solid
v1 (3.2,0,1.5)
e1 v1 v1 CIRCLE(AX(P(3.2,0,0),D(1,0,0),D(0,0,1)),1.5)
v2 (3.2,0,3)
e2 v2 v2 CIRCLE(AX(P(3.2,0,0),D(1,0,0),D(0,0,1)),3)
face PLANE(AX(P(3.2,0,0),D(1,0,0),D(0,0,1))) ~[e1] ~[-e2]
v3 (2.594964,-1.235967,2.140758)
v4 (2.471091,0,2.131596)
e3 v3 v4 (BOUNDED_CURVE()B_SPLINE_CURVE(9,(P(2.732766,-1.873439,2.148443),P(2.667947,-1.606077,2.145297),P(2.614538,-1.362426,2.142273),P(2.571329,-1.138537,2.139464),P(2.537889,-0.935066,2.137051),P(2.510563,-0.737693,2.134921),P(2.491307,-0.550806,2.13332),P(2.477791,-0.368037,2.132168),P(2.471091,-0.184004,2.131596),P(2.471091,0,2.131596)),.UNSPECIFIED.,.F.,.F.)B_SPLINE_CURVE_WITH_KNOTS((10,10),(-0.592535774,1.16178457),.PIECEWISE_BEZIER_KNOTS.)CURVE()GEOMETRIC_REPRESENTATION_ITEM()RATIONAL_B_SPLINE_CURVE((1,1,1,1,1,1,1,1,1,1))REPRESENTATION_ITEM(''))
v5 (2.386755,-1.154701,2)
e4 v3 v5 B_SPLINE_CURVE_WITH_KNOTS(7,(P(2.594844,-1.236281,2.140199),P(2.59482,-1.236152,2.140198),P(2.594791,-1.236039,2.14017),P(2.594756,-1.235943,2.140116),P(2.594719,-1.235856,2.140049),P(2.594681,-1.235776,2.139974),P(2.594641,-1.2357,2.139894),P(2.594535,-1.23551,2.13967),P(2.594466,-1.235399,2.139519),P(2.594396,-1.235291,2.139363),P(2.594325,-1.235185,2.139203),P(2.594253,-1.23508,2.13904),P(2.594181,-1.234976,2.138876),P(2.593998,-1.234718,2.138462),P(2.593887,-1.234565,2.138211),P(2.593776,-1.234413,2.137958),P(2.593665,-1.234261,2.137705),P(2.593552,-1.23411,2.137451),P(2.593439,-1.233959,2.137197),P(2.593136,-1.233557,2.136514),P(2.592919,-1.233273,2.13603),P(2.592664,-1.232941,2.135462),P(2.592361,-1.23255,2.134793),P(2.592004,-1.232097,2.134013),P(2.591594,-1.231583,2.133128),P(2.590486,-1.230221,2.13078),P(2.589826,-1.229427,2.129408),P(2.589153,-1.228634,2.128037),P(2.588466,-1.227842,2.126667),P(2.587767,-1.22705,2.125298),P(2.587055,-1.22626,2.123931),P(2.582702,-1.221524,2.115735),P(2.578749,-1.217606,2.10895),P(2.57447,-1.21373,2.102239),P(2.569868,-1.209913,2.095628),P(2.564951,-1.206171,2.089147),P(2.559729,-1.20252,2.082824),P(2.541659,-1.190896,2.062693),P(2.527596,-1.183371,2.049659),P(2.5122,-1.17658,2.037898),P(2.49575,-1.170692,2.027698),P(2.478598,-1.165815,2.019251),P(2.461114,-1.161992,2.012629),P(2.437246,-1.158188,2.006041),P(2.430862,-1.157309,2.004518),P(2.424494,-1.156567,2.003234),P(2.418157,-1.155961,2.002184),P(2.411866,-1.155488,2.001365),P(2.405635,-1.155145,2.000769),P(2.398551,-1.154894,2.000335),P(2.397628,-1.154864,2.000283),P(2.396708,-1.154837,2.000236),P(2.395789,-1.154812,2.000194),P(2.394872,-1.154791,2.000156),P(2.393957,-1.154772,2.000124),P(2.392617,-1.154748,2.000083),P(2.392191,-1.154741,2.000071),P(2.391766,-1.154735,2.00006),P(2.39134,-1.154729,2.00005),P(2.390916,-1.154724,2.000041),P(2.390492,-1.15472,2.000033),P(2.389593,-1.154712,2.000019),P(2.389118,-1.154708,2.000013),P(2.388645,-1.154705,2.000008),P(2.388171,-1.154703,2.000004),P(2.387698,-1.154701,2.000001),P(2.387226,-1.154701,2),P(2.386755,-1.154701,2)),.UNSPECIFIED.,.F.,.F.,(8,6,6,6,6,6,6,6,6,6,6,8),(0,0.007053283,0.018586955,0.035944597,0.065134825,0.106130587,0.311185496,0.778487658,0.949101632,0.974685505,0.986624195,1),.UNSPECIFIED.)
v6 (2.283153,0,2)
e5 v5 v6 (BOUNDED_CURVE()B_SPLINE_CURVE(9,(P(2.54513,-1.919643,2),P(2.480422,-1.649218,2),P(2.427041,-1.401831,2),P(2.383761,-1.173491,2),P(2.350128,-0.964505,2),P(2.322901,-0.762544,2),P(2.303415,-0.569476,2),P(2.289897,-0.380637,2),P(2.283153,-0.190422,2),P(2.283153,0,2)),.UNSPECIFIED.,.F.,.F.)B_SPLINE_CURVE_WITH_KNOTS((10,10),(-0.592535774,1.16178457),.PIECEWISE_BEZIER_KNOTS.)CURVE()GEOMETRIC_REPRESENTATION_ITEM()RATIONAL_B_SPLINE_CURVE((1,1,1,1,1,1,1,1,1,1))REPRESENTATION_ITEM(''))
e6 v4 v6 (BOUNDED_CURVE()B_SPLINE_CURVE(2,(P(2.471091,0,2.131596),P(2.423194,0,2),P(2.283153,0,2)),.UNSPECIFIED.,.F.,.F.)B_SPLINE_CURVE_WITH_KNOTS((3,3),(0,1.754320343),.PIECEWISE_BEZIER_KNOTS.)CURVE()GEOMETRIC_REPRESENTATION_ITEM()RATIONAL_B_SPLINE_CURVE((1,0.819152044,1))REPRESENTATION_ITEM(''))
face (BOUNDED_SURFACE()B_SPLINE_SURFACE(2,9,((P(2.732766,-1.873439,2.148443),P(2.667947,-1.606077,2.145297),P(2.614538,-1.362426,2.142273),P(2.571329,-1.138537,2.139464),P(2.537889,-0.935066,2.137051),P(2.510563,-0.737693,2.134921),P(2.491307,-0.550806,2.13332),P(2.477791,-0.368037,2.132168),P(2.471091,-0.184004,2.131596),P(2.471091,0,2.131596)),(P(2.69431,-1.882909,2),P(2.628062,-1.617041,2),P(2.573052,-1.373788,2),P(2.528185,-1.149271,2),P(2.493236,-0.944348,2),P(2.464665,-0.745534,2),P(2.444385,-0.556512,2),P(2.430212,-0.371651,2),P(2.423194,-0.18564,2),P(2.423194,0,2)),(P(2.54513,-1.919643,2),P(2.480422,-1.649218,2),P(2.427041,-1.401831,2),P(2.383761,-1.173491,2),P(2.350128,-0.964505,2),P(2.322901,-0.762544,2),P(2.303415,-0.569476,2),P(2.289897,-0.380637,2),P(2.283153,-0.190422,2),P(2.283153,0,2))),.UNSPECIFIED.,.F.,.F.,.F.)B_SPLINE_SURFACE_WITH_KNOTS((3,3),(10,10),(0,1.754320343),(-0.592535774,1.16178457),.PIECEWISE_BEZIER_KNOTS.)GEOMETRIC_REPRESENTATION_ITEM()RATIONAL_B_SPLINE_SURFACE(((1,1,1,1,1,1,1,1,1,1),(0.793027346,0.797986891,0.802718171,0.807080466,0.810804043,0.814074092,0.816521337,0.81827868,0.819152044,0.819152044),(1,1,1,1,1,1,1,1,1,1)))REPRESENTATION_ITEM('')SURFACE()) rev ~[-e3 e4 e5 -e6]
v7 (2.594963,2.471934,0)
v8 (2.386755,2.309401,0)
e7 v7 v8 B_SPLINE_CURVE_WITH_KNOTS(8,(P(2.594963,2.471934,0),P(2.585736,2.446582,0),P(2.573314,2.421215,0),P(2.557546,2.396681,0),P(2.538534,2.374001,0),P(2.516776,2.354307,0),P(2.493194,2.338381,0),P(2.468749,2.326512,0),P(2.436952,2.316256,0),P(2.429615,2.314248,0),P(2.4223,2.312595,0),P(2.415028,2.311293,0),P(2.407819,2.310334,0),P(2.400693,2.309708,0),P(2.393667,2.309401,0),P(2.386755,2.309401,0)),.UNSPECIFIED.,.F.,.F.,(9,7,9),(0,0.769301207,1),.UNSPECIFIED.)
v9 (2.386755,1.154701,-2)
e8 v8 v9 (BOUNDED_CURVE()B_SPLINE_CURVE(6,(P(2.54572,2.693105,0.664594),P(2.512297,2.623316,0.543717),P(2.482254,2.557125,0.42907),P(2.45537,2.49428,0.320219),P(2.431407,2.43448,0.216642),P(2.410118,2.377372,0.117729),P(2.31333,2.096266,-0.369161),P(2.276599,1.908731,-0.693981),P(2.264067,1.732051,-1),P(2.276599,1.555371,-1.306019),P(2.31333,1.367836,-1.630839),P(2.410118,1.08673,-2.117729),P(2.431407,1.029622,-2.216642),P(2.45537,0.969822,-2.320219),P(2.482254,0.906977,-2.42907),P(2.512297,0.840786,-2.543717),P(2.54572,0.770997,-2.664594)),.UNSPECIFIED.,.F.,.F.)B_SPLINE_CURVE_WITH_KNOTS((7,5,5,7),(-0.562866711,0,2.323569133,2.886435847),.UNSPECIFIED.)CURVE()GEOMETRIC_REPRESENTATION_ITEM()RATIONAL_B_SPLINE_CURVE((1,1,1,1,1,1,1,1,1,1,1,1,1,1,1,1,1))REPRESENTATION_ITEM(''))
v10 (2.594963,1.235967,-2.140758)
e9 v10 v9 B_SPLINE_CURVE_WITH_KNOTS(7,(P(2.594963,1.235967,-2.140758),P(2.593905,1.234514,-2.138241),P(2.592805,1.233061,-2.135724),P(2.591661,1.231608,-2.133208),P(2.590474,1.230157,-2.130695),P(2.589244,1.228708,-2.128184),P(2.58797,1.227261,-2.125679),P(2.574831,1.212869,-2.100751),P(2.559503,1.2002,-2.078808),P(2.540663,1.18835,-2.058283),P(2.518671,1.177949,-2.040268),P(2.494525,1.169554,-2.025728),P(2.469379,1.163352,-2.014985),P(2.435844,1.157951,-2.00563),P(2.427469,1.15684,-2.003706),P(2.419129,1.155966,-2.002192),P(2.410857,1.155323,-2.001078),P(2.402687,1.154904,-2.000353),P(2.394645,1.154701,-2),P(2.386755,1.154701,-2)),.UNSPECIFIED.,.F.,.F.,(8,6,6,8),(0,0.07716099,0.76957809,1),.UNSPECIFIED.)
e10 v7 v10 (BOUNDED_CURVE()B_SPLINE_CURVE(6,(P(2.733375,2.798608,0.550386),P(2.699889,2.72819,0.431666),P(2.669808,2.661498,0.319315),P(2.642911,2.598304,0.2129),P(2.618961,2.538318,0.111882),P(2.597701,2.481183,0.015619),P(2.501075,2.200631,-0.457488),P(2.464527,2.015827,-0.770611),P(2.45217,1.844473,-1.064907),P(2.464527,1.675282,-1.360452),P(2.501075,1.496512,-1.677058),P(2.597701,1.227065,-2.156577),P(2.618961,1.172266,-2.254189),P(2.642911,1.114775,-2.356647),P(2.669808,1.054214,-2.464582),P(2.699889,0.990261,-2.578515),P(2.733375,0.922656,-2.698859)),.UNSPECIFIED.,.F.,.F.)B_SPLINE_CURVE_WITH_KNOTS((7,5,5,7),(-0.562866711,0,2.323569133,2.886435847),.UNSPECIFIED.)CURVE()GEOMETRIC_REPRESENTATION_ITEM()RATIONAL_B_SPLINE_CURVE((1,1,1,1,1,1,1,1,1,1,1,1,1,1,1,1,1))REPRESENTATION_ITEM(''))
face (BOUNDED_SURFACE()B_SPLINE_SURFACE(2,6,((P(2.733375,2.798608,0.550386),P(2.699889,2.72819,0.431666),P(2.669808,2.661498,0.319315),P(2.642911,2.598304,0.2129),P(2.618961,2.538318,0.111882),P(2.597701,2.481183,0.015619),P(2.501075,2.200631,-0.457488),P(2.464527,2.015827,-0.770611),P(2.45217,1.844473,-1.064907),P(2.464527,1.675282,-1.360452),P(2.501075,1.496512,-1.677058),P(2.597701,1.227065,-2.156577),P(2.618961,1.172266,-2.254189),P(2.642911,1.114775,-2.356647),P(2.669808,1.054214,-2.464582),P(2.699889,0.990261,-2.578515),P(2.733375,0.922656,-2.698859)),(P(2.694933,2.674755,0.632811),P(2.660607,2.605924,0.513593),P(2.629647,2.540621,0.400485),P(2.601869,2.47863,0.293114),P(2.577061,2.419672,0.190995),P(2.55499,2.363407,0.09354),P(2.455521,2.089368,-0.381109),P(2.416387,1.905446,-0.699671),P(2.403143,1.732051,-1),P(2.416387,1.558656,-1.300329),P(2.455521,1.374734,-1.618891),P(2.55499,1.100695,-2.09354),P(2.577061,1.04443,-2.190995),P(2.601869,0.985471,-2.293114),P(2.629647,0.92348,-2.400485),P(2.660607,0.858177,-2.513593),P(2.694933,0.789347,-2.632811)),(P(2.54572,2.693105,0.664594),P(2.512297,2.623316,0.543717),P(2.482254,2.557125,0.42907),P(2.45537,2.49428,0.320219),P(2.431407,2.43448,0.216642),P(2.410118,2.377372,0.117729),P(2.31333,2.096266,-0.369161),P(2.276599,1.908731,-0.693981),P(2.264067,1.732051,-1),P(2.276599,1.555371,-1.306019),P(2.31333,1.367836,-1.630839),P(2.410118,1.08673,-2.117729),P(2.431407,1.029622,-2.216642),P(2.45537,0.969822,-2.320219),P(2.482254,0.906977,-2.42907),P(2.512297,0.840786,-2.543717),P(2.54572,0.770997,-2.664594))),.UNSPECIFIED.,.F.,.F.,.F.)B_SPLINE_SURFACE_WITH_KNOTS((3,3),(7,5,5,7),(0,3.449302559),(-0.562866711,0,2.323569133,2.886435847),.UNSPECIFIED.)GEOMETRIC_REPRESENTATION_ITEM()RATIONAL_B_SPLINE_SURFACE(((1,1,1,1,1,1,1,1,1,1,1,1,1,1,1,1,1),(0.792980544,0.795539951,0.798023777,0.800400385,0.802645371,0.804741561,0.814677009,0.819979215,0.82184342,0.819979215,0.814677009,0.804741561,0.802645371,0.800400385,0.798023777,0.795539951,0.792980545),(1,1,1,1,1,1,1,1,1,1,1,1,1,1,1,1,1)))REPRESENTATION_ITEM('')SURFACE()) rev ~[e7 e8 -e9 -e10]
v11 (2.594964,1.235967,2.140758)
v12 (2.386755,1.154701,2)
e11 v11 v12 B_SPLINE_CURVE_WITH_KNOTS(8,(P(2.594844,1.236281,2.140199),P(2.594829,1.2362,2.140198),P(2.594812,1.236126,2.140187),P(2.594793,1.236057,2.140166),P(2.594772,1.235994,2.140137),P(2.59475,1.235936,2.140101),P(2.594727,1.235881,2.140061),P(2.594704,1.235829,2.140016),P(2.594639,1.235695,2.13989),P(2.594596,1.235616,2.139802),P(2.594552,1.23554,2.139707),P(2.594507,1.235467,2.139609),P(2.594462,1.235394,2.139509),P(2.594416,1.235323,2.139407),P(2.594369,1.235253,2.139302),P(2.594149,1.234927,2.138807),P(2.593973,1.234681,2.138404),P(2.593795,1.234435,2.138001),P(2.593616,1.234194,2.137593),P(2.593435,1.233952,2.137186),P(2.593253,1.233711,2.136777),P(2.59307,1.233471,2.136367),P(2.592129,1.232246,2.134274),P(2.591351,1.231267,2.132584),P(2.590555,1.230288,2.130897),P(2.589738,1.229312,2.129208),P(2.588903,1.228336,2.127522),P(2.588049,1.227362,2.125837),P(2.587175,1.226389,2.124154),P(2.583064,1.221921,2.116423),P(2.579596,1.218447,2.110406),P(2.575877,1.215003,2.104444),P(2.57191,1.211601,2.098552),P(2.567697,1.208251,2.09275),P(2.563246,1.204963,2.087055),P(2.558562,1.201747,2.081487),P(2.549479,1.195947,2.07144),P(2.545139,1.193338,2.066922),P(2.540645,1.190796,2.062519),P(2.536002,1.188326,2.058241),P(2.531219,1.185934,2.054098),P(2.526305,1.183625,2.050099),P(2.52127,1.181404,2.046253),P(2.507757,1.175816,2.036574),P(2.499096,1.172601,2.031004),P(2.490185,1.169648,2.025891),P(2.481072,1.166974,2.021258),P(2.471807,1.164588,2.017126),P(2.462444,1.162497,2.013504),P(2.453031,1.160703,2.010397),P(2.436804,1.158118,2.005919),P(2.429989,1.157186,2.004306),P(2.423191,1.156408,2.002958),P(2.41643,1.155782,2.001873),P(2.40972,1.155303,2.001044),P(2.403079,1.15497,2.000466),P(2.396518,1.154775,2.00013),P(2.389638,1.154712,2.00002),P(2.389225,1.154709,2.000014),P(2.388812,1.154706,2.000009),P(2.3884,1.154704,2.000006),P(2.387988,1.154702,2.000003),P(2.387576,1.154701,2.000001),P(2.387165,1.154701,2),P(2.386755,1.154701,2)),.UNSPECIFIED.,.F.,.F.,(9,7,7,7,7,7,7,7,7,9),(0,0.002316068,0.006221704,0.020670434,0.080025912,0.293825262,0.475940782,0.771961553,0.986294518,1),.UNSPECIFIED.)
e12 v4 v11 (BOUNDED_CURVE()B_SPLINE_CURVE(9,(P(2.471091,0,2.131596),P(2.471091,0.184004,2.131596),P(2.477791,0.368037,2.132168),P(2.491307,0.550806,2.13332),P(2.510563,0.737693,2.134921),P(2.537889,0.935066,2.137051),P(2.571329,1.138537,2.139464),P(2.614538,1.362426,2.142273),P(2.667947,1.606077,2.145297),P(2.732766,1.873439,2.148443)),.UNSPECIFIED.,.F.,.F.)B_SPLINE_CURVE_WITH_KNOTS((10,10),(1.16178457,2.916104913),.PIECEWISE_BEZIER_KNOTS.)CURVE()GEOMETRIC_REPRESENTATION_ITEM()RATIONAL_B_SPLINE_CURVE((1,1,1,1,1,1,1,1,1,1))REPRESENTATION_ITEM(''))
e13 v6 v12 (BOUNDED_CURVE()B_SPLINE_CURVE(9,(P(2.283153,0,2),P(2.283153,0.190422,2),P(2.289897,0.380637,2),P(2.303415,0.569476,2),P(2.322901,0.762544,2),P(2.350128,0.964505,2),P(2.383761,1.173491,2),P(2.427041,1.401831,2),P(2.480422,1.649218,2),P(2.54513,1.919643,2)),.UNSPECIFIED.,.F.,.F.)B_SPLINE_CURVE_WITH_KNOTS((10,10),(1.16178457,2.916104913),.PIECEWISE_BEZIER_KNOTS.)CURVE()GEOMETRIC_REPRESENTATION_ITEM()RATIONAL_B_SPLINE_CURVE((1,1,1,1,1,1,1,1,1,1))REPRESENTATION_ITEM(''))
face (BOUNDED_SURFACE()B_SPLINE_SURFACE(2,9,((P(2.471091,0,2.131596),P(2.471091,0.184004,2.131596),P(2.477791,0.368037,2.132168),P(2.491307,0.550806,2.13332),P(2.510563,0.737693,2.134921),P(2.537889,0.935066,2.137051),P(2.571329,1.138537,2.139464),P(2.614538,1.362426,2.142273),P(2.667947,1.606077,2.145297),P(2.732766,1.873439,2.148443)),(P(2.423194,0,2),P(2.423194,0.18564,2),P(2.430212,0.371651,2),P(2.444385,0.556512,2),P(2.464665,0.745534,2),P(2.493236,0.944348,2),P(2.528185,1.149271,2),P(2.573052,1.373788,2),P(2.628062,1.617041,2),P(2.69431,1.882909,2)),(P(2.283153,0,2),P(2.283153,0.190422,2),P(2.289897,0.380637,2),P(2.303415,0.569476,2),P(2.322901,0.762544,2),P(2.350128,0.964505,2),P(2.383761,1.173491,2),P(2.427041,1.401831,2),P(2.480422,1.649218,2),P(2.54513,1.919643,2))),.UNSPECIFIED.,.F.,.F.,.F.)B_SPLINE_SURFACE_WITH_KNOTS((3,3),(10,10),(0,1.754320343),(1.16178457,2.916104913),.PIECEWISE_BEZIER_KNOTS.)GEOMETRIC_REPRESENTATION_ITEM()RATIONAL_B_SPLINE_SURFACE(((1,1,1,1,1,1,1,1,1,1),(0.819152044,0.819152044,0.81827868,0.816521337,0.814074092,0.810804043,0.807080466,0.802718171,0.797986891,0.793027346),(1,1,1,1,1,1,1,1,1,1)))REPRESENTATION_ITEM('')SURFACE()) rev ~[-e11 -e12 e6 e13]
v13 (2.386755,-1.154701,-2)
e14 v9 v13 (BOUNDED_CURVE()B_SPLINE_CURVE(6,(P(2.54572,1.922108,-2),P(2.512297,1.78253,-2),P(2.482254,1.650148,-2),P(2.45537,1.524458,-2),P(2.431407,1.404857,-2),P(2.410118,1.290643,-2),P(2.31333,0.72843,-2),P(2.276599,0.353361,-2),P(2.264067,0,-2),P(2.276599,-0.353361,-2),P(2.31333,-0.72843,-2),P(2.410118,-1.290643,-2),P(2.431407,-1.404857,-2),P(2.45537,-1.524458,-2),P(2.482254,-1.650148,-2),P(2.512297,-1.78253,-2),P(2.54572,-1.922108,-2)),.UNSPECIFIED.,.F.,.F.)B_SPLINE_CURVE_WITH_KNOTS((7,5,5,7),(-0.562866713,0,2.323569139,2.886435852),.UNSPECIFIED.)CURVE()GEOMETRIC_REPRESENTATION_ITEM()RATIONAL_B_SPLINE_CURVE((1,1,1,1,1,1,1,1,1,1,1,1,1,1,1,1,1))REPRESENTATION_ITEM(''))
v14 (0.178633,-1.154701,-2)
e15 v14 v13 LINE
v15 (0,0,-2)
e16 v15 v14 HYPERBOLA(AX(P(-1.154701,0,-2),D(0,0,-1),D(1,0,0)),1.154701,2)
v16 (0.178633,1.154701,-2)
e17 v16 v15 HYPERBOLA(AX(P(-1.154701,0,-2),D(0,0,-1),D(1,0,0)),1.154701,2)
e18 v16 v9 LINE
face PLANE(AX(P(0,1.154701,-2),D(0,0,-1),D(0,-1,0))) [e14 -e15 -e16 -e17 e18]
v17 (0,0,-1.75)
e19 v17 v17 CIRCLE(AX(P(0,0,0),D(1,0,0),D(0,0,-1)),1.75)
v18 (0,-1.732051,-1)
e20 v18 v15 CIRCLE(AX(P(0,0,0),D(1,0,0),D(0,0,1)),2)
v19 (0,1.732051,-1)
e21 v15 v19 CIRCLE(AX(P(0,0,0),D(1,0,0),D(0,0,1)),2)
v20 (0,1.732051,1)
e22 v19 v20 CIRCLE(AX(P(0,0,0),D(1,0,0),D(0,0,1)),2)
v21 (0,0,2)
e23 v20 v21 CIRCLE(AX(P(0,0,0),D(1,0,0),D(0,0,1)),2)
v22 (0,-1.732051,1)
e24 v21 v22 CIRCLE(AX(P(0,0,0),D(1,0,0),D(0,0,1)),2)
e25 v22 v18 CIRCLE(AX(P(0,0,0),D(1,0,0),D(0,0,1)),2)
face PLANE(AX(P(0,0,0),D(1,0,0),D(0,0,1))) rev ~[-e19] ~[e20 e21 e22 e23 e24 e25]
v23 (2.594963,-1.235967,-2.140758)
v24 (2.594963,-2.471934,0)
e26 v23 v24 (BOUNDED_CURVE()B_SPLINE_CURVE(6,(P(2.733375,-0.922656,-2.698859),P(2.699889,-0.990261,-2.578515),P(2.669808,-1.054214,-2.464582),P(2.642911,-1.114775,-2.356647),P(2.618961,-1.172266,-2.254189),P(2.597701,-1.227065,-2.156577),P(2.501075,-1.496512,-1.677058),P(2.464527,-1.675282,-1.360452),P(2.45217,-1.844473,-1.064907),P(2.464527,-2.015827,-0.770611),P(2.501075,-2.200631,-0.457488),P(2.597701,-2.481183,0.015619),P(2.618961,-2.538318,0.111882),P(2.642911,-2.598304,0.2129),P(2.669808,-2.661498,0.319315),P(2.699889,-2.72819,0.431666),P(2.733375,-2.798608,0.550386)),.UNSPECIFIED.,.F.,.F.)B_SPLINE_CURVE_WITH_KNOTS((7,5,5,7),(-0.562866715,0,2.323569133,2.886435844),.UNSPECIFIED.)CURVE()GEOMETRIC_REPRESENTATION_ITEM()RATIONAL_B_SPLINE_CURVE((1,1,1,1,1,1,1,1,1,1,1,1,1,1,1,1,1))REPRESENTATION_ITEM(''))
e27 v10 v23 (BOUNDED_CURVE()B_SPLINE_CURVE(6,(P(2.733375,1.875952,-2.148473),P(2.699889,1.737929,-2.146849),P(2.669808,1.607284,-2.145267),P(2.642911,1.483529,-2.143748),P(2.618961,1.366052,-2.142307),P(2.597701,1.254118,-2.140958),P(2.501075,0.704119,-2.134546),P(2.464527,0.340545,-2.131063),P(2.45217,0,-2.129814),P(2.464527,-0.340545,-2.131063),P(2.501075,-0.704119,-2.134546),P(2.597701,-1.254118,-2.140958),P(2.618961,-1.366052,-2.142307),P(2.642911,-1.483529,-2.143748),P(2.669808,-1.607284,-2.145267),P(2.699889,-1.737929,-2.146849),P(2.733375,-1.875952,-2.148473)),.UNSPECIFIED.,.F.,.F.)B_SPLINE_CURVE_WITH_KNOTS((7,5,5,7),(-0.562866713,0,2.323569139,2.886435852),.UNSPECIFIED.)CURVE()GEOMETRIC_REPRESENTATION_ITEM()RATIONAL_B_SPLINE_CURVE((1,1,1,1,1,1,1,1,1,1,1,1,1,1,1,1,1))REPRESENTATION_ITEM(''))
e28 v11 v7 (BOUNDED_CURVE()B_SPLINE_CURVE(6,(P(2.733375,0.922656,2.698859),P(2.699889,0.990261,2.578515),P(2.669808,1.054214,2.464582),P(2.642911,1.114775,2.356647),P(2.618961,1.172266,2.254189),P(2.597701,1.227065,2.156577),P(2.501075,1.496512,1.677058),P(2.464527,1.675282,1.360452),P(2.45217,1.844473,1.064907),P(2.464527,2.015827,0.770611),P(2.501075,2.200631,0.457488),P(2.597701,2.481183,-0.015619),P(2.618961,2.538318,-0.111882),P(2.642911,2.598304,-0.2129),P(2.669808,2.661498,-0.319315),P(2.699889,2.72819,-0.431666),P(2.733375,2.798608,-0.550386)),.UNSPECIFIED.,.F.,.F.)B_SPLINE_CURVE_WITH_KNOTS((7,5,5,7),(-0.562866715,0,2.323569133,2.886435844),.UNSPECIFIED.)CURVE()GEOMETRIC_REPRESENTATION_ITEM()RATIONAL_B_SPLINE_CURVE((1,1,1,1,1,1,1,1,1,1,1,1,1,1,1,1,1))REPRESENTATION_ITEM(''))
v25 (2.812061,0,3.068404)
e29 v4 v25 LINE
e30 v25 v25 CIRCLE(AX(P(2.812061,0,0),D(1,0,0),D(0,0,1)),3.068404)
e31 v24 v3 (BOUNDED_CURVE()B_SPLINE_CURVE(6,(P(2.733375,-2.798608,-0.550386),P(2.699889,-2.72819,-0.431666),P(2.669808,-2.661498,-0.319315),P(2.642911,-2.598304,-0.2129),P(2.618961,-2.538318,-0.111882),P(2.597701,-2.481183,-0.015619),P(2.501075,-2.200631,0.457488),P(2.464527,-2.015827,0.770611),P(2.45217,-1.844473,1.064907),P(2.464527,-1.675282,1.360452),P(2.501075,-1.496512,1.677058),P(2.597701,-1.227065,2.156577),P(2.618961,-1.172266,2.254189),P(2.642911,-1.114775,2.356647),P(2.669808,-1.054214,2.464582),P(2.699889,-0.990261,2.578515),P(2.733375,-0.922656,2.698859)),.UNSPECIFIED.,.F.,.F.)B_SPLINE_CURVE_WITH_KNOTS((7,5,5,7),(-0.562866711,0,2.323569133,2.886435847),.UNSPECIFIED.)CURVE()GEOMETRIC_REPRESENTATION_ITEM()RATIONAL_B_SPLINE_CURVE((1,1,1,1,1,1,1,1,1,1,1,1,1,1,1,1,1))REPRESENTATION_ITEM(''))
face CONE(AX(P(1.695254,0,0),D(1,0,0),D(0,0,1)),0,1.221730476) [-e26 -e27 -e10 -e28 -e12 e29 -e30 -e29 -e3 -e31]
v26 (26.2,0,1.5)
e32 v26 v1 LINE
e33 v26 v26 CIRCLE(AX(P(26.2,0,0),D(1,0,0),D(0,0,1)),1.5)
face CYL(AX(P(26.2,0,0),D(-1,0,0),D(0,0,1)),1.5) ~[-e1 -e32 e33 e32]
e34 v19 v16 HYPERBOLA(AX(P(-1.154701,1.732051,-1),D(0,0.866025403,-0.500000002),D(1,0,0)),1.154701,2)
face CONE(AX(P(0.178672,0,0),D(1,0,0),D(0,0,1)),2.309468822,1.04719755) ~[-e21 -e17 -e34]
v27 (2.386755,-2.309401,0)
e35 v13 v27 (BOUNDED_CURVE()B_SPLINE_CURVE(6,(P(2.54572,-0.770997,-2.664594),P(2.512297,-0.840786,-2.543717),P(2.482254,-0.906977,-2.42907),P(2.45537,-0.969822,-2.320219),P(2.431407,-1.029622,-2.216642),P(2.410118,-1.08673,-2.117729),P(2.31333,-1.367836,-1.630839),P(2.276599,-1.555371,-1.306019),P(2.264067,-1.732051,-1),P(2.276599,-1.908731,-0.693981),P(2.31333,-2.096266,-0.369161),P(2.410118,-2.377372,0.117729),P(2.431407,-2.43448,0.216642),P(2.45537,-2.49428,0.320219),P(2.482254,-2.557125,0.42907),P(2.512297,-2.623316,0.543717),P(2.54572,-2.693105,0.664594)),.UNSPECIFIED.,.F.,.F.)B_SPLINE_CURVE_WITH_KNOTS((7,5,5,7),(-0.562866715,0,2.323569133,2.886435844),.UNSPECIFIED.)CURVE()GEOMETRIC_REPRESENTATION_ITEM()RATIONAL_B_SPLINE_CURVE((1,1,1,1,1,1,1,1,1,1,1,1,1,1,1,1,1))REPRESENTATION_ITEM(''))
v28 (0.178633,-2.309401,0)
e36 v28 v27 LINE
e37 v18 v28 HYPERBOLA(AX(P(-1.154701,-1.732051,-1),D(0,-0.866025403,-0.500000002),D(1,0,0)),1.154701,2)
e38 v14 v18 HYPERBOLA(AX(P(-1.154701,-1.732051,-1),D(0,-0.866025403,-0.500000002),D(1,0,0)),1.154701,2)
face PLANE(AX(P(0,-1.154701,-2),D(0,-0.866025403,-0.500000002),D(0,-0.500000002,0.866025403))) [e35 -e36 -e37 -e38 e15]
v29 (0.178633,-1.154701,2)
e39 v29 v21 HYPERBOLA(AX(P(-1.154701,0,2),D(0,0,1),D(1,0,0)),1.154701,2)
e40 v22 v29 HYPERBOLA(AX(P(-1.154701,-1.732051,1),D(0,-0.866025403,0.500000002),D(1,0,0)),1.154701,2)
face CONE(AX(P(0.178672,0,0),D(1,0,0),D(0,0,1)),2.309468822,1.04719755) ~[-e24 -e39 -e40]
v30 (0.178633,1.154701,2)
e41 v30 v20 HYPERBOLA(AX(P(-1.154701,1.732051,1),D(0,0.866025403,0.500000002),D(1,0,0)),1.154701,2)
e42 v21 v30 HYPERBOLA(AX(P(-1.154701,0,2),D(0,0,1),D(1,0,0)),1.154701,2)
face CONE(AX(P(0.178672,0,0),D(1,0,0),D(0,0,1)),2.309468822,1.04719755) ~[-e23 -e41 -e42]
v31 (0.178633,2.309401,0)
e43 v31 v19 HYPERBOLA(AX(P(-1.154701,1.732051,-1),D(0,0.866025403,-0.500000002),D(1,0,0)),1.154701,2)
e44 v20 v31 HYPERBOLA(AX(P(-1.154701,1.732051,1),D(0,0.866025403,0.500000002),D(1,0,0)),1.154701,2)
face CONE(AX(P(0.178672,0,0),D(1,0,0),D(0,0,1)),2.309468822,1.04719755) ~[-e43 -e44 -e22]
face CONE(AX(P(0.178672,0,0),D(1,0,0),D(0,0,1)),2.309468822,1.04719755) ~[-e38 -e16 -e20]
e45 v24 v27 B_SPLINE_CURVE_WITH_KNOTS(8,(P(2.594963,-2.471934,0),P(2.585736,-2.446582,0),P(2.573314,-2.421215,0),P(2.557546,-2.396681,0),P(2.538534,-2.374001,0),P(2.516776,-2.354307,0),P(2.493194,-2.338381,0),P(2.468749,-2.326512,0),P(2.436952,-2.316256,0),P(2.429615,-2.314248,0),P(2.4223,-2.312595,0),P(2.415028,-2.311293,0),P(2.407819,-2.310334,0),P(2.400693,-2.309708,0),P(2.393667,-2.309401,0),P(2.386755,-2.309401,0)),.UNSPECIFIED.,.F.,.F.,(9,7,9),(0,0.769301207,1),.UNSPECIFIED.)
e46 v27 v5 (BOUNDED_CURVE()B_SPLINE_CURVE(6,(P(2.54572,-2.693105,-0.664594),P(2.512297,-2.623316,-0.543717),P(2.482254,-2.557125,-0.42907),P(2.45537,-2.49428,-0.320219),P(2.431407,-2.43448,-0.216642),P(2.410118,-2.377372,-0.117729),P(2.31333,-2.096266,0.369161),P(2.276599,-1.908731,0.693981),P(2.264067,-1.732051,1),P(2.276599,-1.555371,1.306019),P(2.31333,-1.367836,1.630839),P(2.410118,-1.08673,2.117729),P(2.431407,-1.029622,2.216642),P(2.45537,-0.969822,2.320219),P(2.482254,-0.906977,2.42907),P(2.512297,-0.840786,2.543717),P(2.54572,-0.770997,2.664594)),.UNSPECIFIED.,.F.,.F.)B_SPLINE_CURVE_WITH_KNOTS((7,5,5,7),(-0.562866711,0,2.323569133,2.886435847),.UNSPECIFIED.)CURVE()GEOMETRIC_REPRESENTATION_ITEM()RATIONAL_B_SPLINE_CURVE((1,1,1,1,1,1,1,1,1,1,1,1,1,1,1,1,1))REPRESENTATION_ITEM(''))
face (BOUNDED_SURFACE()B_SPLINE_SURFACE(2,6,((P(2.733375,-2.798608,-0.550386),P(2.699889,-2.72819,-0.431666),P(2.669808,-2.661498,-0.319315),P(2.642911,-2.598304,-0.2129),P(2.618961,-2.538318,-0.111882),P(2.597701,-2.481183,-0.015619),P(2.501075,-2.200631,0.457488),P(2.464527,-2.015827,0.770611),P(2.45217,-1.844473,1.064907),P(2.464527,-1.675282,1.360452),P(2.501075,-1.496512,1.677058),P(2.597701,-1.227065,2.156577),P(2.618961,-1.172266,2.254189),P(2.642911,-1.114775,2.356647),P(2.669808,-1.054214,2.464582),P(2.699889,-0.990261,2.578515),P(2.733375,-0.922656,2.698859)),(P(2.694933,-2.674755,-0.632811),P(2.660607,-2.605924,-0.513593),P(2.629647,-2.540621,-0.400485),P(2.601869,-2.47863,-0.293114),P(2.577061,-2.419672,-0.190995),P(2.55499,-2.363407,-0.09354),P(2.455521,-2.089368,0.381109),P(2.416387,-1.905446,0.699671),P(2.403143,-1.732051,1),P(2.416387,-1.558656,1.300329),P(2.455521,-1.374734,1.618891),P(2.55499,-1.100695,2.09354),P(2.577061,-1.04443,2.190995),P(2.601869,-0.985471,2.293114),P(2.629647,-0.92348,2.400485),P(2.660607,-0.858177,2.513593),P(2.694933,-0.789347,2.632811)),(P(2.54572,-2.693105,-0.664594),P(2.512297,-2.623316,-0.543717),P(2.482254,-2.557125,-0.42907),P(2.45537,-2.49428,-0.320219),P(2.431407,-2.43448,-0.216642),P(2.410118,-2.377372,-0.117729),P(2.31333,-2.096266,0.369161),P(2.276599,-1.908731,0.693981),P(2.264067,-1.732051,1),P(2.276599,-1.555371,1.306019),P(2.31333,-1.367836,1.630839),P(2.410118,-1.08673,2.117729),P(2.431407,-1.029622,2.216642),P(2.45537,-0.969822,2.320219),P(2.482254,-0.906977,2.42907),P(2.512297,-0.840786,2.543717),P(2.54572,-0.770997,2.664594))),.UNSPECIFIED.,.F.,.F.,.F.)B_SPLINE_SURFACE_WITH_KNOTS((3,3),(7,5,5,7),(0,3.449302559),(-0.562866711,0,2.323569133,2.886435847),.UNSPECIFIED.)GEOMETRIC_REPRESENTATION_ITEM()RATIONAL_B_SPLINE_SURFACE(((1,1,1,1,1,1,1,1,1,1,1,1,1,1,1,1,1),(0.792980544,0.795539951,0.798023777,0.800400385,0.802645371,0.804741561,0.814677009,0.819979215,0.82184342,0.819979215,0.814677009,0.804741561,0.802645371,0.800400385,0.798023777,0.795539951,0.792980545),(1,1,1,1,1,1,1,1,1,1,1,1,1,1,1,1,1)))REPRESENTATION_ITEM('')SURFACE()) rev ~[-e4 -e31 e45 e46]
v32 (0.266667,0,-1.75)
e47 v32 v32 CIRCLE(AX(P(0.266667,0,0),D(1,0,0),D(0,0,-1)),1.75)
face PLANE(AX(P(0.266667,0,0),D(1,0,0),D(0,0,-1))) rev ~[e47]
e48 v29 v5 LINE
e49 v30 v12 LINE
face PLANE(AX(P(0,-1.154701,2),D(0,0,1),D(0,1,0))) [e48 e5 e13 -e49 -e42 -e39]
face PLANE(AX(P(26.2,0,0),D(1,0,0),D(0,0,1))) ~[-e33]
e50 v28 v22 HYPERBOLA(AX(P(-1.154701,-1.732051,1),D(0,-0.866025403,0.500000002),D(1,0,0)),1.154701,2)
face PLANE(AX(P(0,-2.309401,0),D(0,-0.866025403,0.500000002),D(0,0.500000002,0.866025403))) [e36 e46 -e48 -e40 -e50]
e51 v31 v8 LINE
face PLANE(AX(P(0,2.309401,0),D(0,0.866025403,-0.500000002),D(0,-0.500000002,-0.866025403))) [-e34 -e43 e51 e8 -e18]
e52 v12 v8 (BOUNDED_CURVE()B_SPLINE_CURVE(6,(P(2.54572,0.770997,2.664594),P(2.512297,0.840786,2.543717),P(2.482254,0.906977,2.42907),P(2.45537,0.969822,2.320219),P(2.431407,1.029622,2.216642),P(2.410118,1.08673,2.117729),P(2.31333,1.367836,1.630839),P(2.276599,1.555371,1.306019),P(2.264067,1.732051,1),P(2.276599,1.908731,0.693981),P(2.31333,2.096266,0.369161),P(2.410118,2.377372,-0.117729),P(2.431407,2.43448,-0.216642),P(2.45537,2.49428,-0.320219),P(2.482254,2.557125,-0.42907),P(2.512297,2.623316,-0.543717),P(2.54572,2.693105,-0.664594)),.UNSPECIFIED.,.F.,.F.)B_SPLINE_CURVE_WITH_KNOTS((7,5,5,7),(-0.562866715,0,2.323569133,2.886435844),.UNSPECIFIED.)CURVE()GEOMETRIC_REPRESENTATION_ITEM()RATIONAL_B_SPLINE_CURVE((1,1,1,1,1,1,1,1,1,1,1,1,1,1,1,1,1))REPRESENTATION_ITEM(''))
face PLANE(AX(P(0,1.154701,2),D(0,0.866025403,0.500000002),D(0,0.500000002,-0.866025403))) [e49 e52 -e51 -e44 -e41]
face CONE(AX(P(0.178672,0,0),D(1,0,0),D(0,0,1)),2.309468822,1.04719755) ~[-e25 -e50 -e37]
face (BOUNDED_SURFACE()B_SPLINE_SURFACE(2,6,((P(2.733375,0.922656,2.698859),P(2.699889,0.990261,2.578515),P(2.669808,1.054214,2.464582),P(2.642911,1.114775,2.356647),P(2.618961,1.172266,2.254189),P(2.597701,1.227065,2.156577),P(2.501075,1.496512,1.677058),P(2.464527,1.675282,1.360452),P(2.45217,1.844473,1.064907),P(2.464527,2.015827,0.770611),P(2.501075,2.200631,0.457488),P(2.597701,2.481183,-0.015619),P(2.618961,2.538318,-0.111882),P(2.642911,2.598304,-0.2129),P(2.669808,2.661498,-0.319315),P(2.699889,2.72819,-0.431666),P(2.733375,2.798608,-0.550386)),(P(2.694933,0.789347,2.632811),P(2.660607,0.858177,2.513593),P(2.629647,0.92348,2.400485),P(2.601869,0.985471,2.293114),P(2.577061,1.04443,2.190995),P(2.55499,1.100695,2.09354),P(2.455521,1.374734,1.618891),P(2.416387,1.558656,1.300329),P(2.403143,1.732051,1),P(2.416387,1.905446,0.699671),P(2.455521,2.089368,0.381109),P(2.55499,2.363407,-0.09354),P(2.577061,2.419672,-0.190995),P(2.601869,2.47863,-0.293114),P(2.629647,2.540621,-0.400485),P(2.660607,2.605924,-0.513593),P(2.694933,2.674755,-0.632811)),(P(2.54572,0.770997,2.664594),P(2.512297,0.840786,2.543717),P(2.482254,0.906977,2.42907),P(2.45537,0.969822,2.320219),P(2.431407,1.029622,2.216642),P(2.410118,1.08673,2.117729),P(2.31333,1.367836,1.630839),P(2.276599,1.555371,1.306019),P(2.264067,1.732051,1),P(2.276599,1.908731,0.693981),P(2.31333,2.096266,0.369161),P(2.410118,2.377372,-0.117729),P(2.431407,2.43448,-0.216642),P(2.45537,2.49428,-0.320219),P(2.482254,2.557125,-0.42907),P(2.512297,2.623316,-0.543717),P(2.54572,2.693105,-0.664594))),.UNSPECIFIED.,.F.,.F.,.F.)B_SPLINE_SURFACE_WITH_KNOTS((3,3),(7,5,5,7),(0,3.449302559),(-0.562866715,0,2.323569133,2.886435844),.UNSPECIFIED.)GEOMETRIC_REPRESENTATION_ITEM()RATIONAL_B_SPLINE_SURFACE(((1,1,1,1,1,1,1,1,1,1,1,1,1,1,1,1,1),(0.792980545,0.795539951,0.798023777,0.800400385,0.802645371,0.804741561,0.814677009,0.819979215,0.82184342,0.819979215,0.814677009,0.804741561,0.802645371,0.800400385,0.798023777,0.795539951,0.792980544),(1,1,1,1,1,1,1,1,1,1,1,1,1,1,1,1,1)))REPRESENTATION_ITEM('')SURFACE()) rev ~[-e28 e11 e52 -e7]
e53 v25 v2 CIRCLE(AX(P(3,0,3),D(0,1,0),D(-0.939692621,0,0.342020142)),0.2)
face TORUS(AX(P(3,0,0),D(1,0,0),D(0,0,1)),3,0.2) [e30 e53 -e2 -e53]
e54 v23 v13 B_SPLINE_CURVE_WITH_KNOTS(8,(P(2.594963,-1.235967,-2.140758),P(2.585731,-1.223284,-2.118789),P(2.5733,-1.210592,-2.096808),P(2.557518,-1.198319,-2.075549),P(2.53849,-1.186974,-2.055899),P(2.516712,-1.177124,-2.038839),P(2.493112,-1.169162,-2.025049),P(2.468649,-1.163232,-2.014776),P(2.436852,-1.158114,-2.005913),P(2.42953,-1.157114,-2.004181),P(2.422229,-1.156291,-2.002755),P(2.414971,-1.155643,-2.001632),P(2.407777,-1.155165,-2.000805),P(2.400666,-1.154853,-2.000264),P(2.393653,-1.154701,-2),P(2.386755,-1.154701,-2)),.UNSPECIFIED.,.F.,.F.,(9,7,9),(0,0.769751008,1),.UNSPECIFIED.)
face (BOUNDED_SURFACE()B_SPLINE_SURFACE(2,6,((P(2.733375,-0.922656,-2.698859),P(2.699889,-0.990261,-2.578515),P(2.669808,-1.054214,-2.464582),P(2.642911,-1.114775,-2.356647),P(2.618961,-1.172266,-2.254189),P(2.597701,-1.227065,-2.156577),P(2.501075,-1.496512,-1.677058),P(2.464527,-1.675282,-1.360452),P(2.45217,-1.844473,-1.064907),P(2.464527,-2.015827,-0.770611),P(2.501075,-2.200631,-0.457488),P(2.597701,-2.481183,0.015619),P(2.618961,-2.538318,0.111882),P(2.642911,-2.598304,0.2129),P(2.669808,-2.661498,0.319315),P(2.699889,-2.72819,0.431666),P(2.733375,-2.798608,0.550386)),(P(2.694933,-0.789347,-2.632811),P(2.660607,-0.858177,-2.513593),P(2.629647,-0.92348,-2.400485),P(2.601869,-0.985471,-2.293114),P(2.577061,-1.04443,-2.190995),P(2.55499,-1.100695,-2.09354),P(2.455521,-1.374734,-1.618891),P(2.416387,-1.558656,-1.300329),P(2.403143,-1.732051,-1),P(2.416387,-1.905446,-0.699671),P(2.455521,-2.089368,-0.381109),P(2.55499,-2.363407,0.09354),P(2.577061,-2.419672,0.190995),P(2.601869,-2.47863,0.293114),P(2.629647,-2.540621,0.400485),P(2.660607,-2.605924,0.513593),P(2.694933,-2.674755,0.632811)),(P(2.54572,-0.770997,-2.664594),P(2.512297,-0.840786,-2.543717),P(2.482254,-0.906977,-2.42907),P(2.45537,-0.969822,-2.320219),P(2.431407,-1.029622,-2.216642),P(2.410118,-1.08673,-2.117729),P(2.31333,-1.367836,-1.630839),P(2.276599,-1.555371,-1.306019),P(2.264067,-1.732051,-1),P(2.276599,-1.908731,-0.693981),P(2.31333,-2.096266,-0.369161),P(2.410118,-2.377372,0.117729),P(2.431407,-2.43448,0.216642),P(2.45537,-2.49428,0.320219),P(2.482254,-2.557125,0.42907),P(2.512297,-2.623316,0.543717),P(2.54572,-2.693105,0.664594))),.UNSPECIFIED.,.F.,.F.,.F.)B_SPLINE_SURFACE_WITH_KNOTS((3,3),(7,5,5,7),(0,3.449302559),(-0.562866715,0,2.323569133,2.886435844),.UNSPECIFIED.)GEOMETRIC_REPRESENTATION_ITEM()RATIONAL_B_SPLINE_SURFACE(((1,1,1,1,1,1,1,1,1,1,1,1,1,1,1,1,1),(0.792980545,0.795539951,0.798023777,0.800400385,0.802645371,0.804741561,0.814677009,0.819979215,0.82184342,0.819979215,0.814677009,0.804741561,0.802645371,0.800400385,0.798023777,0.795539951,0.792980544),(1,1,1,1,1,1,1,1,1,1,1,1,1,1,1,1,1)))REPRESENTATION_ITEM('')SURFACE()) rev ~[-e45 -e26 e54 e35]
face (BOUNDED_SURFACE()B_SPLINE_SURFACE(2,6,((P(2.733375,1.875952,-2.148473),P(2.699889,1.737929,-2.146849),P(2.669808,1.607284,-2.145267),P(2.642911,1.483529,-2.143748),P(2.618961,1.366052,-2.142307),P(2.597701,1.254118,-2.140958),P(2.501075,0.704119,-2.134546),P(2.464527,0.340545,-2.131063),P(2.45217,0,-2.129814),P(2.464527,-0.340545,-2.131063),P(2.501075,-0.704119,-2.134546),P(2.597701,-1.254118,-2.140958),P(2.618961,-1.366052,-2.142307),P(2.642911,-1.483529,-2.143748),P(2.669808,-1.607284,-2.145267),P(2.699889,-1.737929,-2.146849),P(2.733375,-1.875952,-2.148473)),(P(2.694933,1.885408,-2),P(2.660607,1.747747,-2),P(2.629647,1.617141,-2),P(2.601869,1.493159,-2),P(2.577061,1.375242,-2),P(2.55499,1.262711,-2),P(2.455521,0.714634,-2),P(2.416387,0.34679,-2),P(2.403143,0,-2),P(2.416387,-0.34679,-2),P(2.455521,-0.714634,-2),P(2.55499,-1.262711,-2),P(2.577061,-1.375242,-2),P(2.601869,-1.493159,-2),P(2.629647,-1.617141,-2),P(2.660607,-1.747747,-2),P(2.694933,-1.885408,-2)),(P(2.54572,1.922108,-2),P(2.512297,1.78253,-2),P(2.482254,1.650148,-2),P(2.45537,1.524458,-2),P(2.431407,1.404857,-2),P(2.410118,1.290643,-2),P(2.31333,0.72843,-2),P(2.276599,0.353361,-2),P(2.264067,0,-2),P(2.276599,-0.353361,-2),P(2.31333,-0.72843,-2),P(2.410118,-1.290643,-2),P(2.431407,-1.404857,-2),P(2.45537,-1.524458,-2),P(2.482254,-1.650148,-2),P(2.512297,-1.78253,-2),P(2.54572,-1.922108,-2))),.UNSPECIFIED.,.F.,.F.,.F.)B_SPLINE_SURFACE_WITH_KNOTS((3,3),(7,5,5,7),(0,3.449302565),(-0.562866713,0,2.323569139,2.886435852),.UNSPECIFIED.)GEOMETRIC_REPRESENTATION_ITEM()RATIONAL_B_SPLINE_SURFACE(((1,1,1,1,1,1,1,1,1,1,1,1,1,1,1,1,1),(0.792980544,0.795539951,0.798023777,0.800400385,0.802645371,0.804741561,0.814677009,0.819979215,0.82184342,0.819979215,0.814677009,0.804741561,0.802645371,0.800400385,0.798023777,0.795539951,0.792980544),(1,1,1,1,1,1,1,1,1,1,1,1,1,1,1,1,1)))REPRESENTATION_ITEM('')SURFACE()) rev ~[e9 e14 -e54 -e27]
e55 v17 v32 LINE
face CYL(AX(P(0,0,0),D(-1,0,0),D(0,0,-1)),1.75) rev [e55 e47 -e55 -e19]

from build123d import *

# Parameters (mm, degrees)
SKETCH2_R         = 2.33256351
HEX_DIE_DEPTH     = 3.2
FLANGEHEXFILLET_R = 0.2
SKETCH4_R         = 1.75
INDENT_DEPTH      = 0.266666667


with BuildPart() as part:
    # BodySke → Base-Revolve (revolve)
    with BuildSketch(Plane.XY, mode=Mode.PRIVATE) as base_revolve_sk:
        Polygon((3.2, 1.5), (3.2, 2.309468822), (0.178671908, 2.309468822), (0, 2), (0, 0), (26.2, 0), (26.2, 1.5), align=None)
    revolve(base_revolve_sk.sketch.rotate(Axis((-25.4, 0, 0), (1, 0, 0)), 90), axis=Axis((-25.4, 0, 0), (1, 0, 0)))

    # Sketch2 → Hex-Die (cut)
    with BuildSketch(Plane(origin=(0, 0, 0), x_dir=(0, 0, -1), z_dir=(1, 0, 0))):
        Circle(SKETCH2_R)
        Polygon((-2, 1.154700543), (0, 2.309401087), (2, 1.154700543), (2, -1.154700543), (0, -2.309401087), (-2, -1.154700543), align=None, mode=Mode.SUBTRACT)
    extrude(amount=HEX_DIE_DEPTH, mode=Mode.SUBTRACT)

    # Sketch5 → Flange (revolve)
    with BuildSketch(Plane.XY, mode=Mode.PRIVATE) as flange_sk:
        with BuildLine():
            Line((1.695253743, 0), (2.812061476, 3.068404029))
            ThreePointArc((2.812061476, 3.068404029), (3.034729636, 3.196961551), (3.2, 3))
            Line((3.2, 3), (3.2, 0))
            Line((3.2, 0), (1.695253743, 0))
        make_face()
    revolve(flange_sk.sketch.rotate(Axis((0, 0, 0), (1, 0, 0)), 90), axis=Axis((0, 0, 0), (1, 0, 0)))

    # FlangeHexFillet
    flangehexfillet_edges = [part.edges().sort_by_distance(p)[0] for p in [
        (2.453172961, 0.579868861, 2),
        (2.423194214, 1.732050815, 1),
        (2.423194214, 1.732050815, -1),
        (2.423194211, 0, -2),
        (2.423194214, -1.732050815, -1),
        (2.423194214, -1.732050815, 1),
        (2.453172961, -0.579868861, 2),
    ]]
    fillet(flangehexfillet_edges, radius=FLANGEHEXFILLET_R)

    # Sketch4 → Indent (cut)
    with BuildSketch(Plane(origin=(0, 0, 0), x_dir=(0, 0, -1), z_dir=(1, 0, 0))):
        Circle(SKETCH4_R)
    extrude(amount=INDENT_DEPTH, mode=Mode.SUBTRACT)


solid = part.part
